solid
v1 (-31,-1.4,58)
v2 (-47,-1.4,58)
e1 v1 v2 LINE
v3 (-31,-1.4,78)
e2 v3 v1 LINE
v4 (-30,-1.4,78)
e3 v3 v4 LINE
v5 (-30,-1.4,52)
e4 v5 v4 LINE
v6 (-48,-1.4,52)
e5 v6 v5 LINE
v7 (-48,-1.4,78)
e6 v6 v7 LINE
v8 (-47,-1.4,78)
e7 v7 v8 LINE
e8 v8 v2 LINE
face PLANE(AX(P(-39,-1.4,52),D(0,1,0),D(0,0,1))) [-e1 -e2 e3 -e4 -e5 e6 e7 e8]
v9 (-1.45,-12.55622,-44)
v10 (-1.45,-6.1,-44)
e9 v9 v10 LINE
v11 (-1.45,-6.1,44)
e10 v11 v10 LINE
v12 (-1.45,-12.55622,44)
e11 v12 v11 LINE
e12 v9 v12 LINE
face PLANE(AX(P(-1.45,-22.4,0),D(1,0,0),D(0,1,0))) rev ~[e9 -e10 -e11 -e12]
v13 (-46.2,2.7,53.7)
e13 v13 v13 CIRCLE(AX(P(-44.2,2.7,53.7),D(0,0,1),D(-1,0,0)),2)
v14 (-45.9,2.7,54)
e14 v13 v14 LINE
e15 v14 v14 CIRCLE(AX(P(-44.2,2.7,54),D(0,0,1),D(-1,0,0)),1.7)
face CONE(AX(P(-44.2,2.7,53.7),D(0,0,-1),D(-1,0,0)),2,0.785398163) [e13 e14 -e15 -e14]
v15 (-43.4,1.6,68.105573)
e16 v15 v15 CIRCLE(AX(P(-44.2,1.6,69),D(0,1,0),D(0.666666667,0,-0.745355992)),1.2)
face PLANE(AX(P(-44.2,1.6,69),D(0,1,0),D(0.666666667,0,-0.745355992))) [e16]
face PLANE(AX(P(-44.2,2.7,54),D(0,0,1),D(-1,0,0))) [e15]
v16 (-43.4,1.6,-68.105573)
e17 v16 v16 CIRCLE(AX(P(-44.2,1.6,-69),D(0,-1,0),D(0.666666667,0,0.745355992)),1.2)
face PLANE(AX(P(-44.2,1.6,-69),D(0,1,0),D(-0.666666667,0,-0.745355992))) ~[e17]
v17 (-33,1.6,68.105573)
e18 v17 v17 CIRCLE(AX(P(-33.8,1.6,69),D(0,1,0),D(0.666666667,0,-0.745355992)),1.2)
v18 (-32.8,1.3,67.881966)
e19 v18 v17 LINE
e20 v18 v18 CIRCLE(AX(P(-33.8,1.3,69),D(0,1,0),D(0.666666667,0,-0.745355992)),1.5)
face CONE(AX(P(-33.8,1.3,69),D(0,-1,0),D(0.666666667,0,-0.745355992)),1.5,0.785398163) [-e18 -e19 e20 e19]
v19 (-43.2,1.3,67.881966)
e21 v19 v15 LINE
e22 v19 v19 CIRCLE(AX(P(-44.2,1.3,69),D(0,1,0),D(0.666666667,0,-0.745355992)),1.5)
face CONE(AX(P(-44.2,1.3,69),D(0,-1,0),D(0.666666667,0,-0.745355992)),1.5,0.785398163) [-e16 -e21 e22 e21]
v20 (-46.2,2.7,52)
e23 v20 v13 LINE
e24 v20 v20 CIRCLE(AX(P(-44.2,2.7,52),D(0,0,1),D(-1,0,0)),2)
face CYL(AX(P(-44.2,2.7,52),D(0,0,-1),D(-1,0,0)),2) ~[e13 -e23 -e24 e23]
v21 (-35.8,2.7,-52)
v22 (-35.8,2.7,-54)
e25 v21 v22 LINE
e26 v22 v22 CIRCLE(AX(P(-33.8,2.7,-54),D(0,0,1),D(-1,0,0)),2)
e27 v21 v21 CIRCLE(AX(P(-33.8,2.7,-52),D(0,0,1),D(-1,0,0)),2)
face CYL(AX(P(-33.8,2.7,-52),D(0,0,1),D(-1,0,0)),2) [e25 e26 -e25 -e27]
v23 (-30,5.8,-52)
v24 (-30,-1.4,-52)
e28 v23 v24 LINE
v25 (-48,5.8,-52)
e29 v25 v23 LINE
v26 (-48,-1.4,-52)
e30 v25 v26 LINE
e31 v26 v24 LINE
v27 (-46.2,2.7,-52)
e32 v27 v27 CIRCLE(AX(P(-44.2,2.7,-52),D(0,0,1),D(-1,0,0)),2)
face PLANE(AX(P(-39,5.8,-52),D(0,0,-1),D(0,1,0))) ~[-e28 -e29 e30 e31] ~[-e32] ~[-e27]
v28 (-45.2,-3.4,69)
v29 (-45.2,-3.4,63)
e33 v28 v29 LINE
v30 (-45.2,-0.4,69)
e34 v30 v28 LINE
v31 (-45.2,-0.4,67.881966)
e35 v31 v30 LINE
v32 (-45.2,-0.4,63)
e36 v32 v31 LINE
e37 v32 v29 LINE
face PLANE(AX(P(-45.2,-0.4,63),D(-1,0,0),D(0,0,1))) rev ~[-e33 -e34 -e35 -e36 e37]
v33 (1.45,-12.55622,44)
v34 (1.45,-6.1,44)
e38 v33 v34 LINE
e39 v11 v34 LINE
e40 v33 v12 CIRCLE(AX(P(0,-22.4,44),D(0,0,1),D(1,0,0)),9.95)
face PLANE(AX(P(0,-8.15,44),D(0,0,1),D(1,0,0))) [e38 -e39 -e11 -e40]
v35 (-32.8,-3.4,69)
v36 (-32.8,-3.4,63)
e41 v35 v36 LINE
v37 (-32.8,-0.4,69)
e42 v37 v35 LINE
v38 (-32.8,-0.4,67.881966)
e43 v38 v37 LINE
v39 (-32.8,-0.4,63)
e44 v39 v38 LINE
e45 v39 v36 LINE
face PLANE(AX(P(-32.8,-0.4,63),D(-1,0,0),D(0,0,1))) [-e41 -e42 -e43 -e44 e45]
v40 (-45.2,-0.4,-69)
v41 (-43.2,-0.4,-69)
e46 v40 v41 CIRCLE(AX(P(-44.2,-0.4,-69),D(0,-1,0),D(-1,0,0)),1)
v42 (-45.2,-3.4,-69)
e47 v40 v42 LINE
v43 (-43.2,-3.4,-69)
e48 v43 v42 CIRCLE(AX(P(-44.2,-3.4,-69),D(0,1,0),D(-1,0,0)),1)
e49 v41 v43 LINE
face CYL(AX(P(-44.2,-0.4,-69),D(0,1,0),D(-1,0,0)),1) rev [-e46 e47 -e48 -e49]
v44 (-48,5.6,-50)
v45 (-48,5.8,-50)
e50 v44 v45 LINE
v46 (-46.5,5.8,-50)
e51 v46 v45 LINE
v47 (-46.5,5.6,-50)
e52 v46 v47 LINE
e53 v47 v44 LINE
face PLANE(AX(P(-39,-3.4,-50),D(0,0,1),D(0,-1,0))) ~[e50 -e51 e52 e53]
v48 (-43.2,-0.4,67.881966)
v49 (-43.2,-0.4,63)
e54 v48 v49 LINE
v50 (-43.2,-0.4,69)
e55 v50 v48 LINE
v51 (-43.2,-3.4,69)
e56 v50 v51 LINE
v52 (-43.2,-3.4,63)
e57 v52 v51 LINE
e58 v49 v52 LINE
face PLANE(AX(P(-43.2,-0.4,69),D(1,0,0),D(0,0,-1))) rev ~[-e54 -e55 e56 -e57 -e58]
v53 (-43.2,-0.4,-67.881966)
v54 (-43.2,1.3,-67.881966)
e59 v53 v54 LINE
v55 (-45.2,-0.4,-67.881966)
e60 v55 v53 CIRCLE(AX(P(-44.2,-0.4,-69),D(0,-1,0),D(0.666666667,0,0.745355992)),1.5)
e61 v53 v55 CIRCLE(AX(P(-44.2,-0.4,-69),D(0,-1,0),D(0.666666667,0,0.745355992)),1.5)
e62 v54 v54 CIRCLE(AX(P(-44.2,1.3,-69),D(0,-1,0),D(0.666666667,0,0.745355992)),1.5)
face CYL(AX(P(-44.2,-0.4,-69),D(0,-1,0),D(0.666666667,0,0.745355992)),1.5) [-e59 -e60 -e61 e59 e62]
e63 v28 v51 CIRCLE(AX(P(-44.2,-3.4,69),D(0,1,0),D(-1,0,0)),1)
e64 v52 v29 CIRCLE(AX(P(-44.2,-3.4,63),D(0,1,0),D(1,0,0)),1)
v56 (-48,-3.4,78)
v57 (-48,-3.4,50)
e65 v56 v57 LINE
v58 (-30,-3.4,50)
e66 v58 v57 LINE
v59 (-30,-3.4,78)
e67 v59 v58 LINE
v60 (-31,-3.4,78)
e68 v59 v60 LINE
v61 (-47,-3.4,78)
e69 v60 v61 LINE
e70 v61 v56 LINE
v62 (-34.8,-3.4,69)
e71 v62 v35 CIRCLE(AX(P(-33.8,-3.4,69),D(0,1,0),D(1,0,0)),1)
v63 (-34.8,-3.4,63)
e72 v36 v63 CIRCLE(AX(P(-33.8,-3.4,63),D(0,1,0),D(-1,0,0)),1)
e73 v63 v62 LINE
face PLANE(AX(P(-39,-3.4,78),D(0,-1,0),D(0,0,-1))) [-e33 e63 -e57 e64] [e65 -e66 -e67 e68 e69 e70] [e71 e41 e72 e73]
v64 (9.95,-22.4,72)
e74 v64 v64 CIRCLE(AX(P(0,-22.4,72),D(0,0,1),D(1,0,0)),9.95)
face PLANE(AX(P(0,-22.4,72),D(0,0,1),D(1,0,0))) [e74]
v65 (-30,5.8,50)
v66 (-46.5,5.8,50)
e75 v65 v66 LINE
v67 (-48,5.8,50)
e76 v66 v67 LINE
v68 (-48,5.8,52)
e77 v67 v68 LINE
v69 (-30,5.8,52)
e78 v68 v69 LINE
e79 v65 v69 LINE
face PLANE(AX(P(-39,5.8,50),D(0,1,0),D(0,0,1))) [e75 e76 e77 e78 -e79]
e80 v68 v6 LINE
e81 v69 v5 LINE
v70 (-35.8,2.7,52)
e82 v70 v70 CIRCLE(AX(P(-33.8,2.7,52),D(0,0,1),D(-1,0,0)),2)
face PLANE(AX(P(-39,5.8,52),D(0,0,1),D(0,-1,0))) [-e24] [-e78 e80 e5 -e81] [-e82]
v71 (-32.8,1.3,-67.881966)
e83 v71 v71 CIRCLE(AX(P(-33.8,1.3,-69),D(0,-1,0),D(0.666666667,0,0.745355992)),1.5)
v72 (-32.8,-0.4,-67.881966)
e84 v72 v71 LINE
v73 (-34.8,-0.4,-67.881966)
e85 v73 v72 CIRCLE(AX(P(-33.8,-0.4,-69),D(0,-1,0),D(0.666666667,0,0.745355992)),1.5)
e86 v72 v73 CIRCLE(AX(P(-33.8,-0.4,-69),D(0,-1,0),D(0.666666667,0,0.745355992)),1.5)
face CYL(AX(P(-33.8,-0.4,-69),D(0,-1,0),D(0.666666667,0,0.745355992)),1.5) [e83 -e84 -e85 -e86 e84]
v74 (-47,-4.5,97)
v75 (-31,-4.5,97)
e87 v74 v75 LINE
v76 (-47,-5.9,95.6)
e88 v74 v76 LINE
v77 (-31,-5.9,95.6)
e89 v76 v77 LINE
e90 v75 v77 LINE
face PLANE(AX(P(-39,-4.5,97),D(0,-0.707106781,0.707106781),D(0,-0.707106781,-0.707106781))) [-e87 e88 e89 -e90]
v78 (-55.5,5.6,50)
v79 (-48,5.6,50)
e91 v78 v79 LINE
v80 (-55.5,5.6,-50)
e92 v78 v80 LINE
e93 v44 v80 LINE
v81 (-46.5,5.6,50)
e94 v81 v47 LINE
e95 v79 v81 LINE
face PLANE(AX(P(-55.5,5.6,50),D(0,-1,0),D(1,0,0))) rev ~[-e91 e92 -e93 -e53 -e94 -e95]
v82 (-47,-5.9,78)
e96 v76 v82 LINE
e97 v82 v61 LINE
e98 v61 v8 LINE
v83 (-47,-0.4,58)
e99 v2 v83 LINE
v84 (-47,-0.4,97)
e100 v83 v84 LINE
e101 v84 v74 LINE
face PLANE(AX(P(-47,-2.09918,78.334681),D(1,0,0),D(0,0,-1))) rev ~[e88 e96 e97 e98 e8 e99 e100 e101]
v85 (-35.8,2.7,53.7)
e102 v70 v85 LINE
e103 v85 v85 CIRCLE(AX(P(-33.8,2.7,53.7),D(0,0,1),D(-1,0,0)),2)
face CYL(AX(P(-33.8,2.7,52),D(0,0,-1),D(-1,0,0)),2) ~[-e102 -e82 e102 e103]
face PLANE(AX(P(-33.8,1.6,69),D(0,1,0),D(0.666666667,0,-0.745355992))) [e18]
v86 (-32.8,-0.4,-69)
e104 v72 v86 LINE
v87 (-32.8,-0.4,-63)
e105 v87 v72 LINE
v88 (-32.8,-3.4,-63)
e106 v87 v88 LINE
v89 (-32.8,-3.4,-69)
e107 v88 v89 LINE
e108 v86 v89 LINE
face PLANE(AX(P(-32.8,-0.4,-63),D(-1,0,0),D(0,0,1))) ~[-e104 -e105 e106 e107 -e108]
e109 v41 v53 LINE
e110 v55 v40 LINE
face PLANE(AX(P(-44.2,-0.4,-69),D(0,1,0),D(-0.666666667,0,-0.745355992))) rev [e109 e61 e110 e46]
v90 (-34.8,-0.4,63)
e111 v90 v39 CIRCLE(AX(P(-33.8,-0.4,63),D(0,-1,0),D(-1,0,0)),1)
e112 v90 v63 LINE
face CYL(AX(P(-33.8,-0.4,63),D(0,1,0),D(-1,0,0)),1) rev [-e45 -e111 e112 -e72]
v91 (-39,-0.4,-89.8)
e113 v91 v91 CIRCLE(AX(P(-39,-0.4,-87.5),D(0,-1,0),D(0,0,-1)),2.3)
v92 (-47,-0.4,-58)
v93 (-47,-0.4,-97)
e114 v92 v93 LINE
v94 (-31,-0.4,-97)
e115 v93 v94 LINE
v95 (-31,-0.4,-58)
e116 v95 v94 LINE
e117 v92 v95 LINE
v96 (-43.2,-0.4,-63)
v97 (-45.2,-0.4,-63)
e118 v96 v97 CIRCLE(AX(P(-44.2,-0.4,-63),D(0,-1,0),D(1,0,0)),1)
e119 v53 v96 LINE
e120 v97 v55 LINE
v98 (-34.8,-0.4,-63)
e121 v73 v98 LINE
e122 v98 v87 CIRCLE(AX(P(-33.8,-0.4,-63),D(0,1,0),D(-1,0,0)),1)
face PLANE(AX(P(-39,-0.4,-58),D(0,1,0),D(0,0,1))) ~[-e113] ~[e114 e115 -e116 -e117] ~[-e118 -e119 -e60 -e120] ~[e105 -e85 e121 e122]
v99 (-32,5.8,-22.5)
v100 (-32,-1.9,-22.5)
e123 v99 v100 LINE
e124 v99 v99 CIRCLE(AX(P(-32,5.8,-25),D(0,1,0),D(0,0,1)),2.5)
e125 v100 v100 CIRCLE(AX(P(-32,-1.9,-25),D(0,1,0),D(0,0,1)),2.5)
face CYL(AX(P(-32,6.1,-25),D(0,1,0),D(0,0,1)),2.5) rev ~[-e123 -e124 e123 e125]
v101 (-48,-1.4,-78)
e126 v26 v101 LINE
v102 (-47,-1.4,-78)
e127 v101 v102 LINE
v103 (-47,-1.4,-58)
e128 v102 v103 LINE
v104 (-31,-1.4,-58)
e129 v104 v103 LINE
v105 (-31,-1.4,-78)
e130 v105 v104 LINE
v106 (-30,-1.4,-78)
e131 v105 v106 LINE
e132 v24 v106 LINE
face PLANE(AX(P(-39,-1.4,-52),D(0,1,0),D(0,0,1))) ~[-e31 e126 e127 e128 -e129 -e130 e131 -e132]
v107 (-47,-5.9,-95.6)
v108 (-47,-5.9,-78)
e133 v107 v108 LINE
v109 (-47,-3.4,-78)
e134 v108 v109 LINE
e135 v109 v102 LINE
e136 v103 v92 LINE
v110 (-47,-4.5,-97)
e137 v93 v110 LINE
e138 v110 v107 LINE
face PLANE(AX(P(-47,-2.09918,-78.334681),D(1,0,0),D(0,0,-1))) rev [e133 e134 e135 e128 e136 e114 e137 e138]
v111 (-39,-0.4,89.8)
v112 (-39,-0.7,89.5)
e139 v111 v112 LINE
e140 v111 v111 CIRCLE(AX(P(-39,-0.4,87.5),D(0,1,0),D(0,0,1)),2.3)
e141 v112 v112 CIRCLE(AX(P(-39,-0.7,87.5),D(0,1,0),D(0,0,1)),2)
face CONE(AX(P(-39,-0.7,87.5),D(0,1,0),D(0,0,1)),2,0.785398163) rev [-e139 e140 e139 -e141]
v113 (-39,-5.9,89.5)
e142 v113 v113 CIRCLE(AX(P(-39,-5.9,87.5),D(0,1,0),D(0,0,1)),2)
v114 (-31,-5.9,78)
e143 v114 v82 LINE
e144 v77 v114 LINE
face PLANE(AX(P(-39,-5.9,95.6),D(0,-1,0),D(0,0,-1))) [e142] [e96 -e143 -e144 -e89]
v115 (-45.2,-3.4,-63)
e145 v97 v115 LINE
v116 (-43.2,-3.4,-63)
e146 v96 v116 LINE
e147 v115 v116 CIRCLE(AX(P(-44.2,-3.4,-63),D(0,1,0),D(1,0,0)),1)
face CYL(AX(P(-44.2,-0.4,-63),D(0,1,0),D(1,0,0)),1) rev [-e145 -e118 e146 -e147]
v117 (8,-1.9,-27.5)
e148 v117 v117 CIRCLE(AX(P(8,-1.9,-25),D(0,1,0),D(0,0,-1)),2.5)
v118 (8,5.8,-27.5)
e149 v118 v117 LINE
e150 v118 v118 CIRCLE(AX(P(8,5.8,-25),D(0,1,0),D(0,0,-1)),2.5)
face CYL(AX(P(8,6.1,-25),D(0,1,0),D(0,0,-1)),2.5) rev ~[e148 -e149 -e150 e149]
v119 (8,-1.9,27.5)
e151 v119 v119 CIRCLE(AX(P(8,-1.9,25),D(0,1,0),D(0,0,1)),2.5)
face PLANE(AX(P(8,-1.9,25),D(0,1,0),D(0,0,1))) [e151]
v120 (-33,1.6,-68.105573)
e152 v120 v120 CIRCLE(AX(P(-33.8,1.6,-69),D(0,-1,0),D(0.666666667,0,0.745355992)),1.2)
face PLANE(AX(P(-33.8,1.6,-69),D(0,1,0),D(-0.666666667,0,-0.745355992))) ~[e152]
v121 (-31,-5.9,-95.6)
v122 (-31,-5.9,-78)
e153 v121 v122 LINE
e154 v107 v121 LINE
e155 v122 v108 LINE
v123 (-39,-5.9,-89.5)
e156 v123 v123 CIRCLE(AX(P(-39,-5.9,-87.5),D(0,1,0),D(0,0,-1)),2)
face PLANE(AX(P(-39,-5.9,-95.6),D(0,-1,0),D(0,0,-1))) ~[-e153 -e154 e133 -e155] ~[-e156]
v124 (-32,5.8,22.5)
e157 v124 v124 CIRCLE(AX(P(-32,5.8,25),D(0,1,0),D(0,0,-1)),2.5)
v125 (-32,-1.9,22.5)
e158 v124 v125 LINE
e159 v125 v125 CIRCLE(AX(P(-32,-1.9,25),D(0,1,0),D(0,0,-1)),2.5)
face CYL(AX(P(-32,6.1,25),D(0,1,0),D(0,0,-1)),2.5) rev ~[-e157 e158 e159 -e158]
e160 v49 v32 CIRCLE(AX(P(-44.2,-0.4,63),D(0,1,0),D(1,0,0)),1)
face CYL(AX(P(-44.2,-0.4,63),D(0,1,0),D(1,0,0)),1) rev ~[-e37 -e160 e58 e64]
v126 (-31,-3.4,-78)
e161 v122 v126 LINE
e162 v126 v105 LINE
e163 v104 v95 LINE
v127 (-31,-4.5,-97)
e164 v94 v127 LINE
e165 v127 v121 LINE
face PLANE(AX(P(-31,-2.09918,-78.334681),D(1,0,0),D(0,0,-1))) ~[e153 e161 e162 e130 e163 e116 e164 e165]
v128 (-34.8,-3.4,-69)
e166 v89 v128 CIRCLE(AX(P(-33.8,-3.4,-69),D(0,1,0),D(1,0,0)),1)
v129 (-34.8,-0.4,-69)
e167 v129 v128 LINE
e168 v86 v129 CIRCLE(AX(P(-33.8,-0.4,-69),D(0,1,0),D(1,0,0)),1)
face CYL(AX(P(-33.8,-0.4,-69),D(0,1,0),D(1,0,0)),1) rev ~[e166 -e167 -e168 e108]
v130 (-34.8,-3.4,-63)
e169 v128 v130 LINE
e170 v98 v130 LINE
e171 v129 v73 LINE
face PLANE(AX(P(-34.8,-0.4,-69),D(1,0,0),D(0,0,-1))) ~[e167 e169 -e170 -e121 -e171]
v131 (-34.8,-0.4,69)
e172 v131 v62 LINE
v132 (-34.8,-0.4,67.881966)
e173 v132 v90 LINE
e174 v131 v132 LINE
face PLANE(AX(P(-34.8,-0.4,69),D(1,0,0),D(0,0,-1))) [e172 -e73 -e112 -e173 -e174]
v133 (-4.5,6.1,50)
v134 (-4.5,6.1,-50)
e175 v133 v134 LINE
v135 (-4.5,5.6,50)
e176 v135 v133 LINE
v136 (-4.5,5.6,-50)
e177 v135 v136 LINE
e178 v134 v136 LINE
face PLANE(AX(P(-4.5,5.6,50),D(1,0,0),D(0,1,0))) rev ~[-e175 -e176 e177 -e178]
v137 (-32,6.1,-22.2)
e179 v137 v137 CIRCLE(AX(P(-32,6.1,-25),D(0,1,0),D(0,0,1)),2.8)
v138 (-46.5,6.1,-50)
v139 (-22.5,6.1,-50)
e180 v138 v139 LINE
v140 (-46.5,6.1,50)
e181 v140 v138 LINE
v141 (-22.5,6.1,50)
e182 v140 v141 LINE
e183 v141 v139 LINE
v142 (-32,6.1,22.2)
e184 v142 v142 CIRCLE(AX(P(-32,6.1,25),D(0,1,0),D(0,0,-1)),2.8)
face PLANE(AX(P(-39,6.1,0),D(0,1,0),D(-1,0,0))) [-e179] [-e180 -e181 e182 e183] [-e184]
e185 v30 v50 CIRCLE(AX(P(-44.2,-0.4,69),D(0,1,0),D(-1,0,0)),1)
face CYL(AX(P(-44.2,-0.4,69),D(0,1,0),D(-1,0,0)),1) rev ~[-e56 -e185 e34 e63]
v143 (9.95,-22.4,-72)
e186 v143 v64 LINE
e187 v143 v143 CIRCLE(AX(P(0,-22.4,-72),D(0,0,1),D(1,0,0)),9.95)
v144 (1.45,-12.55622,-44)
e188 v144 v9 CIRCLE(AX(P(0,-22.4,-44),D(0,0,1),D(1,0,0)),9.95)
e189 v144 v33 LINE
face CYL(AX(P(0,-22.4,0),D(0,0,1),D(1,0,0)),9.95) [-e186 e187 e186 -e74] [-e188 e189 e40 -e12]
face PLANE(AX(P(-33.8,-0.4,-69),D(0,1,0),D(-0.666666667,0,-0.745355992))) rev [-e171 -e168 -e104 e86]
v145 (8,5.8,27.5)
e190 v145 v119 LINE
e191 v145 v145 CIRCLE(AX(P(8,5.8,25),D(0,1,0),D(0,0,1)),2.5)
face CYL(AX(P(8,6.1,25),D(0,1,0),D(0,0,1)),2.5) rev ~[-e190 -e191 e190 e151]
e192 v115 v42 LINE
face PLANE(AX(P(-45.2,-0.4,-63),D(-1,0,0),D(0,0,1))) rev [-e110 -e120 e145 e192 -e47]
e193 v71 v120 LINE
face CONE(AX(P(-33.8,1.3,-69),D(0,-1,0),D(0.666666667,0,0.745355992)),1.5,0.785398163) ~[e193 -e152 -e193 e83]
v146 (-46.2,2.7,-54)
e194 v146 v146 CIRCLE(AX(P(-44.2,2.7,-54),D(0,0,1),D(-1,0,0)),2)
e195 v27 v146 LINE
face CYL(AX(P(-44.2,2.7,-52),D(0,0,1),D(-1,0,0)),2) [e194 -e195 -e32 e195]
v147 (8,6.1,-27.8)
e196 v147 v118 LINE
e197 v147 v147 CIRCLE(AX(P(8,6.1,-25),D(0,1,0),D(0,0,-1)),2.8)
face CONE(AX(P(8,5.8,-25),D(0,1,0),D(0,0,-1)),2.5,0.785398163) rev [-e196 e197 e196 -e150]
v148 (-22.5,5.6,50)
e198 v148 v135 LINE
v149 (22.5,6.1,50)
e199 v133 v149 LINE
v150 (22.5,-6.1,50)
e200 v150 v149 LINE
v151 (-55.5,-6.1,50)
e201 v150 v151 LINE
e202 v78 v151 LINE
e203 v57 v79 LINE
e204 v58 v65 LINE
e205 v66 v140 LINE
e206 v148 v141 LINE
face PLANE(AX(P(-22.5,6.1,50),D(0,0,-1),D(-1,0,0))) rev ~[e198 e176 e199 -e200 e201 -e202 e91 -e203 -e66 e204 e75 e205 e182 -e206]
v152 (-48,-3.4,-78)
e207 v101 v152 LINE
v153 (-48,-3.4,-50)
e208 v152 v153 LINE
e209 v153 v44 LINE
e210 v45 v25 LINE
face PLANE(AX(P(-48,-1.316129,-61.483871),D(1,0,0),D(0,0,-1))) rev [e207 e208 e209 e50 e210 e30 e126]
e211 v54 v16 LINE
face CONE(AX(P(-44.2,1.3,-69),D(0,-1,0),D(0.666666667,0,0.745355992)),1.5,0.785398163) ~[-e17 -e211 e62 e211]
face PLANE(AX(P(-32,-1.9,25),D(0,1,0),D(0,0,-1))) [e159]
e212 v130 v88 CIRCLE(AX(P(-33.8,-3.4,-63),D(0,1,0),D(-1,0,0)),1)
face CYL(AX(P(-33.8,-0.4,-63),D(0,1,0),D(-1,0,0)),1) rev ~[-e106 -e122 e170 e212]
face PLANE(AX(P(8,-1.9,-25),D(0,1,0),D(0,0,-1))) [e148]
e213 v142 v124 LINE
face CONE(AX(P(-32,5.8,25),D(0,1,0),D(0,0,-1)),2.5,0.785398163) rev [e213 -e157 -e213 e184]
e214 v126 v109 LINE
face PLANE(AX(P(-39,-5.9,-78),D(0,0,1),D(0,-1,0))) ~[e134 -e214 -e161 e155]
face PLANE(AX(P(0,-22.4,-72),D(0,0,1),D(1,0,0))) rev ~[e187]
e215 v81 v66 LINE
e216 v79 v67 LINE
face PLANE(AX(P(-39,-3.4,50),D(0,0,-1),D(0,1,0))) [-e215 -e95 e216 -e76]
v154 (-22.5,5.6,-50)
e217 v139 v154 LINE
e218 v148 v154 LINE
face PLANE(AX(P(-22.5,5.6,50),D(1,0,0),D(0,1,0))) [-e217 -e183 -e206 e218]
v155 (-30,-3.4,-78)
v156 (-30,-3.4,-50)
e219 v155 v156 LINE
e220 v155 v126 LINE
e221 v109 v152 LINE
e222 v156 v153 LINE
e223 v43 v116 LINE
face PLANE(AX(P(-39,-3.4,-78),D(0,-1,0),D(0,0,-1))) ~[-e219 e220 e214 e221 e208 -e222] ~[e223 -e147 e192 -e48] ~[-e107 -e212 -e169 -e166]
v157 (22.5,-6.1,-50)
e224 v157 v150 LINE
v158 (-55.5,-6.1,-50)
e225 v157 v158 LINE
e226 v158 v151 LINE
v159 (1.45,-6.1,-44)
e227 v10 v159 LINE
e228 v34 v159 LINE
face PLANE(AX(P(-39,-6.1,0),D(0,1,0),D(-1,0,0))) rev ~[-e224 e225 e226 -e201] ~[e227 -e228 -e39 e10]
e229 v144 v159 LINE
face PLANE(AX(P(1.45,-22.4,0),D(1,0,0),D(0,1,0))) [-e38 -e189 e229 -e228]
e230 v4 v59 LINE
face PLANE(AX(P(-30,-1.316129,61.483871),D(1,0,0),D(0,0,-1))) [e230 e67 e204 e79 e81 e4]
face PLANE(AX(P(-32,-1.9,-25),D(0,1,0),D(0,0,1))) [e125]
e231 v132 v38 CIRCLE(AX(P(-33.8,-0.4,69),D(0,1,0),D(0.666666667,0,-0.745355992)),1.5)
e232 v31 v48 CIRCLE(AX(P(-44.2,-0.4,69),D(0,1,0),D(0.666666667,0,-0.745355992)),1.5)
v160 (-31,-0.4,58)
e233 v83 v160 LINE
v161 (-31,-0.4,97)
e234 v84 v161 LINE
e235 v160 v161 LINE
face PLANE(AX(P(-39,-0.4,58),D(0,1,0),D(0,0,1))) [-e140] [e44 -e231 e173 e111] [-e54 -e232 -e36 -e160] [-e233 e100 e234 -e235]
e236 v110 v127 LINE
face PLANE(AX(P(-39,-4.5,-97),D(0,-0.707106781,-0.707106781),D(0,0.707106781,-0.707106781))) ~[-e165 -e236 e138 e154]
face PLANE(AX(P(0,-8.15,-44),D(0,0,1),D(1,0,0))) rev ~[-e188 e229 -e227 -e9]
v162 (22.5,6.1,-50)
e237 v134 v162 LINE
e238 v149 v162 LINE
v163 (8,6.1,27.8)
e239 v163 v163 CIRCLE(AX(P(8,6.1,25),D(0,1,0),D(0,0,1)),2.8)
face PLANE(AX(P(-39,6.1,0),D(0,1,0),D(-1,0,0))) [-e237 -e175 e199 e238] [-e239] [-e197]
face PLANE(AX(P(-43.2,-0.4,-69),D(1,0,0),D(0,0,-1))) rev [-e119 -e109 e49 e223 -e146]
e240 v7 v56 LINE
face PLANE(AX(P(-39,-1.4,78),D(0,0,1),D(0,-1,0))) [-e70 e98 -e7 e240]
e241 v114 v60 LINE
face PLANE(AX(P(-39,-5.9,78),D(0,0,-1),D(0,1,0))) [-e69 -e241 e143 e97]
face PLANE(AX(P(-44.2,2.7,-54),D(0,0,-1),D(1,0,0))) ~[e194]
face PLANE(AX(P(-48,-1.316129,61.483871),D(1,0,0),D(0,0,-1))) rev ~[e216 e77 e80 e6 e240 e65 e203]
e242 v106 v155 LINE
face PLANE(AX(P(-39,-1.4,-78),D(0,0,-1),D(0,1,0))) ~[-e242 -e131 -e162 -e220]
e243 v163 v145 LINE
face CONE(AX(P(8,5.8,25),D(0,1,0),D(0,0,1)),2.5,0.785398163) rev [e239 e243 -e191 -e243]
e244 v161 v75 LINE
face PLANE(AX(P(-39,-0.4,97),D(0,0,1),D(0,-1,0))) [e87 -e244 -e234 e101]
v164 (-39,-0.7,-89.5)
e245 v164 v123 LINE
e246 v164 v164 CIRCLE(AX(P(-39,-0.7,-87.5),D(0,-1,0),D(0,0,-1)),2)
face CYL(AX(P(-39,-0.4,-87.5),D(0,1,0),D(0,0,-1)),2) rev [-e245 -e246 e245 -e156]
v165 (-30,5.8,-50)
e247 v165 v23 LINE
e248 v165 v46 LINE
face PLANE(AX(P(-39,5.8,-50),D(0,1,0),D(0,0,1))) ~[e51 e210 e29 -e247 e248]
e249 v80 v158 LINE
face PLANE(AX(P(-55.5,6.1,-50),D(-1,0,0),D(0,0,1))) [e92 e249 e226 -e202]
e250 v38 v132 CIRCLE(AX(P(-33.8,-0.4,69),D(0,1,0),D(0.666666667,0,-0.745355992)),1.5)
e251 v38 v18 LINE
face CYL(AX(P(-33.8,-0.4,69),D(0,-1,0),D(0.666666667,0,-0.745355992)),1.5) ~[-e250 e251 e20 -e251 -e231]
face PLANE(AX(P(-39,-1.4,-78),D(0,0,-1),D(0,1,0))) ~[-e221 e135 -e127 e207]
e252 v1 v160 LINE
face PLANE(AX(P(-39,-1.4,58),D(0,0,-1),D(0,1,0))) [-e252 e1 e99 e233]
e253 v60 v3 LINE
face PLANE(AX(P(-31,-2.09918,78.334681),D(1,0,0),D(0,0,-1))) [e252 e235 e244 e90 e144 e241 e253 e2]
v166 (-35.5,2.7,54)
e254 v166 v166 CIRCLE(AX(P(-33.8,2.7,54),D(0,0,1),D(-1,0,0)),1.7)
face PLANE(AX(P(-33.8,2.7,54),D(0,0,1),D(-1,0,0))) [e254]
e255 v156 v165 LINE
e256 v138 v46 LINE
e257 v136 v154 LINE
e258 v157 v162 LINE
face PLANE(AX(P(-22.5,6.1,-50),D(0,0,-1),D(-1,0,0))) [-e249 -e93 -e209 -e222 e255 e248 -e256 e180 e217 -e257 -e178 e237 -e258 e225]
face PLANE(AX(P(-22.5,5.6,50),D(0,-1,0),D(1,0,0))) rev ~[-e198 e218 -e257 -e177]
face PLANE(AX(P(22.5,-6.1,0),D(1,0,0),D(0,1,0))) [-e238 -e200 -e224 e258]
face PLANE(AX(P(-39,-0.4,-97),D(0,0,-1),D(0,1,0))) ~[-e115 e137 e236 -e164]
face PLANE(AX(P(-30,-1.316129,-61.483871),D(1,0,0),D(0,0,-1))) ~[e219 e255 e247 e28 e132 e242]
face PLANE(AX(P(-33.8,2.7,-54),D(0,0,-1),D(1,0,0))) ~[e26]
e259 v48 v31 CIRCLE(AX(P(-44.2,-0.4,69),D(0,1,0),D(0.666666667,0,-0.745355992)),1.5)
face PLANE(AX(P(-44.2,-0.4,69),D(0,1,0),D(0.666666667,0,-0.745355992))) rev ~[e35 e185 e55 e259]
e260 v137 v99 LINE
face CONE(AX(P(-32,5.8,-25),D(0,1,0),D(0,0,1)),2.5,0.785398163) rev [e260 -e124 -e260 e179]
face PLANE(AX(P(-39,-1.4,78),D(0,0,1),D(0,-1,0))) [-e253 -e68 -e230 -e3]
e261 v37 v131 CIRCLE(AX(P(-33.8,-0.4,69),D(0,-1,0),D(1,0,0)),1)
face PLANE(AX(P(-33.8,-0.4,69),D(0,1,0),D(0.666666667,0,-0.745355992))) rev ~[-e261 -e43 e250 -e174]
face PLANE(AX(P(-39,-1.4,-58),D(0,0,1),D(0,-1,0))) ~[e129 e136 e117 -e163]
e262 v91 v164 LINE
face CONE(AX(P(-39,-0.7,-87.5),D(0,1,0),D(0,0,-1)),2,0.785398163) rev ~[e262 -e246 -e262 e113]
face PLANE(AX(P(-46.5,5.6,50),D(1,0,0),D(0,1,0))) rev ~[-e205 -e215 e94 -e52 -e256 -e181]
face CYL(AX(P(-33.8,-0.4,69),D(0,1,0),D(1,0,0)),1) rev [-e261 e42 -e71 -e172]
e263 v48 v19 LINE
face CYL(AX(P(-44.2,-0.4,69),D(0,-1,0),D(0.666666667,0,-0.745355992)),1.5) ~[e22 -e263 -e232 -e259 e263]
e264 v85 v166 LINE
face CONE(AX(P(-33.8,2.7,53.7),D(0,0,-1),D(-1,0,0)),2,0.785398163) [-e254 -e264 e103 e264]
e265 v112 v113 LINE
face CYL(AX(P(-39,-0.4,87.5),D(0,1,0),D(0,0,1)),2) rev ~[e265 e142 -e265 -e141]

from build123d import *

# Parameters (mm, degrees)
SKETCH1_W                 = 45
SKETCH1_H                 = 12.2
BASE_EXTRUDE_DEPTH        = 50
SKETCH16_W                = 33
SKETCH16_H                = 100
TABLE_EXTENSION_DEPTH     = 12.2
SKETCH3_R                 = 2.5
MOUNTHOLES_DEPTH          = 8
SKETCH14_W                = 2.9
SKETCH14_H                = 28.5
CONNECTION_DEPTH          = 44
SKETCH15_R                = 9.95
PISTON_DEPTH              = 72
SKETCH17_W                = 9
SKETCH17_H                = 0.5
SKETCH17_W_2              = 18
GROOVES_DEPTH             = 138.879557948
ENDLOCKPLATE1_DEPTH       = 9
ENDLOCKPLATE2_DEPTH       = 8
SKETCH20_R                = 2
ENDLOCKHOLES_DEPTH        = 117.232751409
SKETCH21_R                = 1.5
ENDLOCKADJUSTSCREWS_DEPTH = 2
SKETCH23_R                = 2
ENDLOCKMOUNTSCREWS_DEPTH  = 2
CHAMFER1_SIZE             = 0.3


with BuildPart() as part:
    # Sketch1 → Base-Extrude (new, symmetric)
    with BuildSketch(Plane.XY):
        Rectangle(SKETCH1_W, SKETCH1_H)
    extrude(amount=BASE_EXTRUDE_DEPTH, both=True)

    # Sketch16 → Table_Extension (add)
    with BuildSketch(Plane(origin=(0, 6.1, 0), x_dir=(-1, 0, 0), z_dir=(0, 1, 0))):
        with Locations((39, 0)):
            Rectangle(SKETCH16_W, SKETCH16_H)
    extrude(amount=-TABLE_EXTENSION_DEPTH)

    # Sketch3 → MountHoles (cut)
    with BuildSketch(Plane(origin=(0, 6.1, 0), x_dir=(-1, 0, 0), z_dir=(0, 1, 0))):
        with Locations(Location((32, -25, 0), (0, 0, 90))):
            Circle(SKETCH3_R)
        with Locations(Location((-8, -25, 0), (0, 0, 270))):
            Circle(SKETCH3_R)
        with Locations(Location((32, 25, 0), (0, 0, 270))):
            Circle(SKETCH3_R)
        with Locations(Location((-8, 25, 0), (0, 0, 90))):
            Circle(SKETCH3_R)
    extrude(amount=-MOUNTHOLES_DEPTH, mode=Mode.SUBTRACT)

    # Sketch14 → Connection (add, symmetric)
    with BuildSketch(Plane.XY):
        with Locations((0, -8.15)):
            Rectangle(SKETCH14_W, SKETCH14_H)
    extrude(amount=CONNECTION_DEPTH, both=True)

    # Sketch15 → Piston (add, symmetric)
    with BuildSketch(Plane.XY):
        with Locations((0, -22.4)):
            Circle(SKETCH15_R)
    extrude(amount=PISTON_DEPTH, both=True)

    # Sketch17 → Grooves (cut, through all)
    with BuildSketch(Plane.XY.offset(50)):
        with Locations((-51, 5.85)):
            Rectangle(SKETCH17_W, SKETCH17_H)
        with Locations((-13.5, 5.85)):
            Rectangle(SKETCH17_W_2, SKETCH17_H)
    extrude(amount=-GROOVES_DEPTH, mode=Mode.SUBTRACT)

    # Sketch18 → EndLockPlate1 (add, symmetric)
    with BuildSketch(Plane(origin=(-39, 0, 0), x_dir=(0, 0, -1), z_dir=(1, 0, 0))):
        Polygon((-50, 5.8), (-52, 5.8), (-52, -1.4), (-78, -1.4), (-78, -3.4), (-50, -3.4), align=None)
    endlockplate1 = extrude(amount=ENDLOCKPLATE1_DEPTH, both=True)

    # Sketch19 → EndLockPlate2 (add, symmetric)
    with BuildSketch(Plane(origin=(-39, 0, 0), x_dir=(0, 0, -1), z_dir=(1, 0, 0))):
        Polygon((-58, -1.4), (-58, -0.4), (-97, -0.4), (-97, -4.5), (-95.6, -5.9), (-78, -5.9), (-78, -1.4), align=None)
    endlockplate2 = extrude(amount=ENDLOCKPLATE2_DEPTH, both=True)

    # Sketch20 → EndLockHoles (cut, through all)
    with BuildSketch(Plane(origin=(0, -0.4, 0), x_dir=(-1, 0, 0), z_dir=(0, 1, 0))):
        with Locations(Location((39, 87.5, 0), (0, 0, 90))):
            Circle(SKETCH20_R)
        with BuildLine():
            Line((32.8, 63), (32.8, 69))
            ThreePointArc((32.8, 69), (33.8, 70), (34.8, 69))
            Line((34.8, 69), (34.8, 63))
            ThreePointArc((34.8, 63), (33.8, 62), (32.8, 63))
        make_face()
        with BuildLine():
            Line((43.2, 69), (43.2, 63))
            ThreePointArc((43.2, 63), (44.2, 62), (45.2, 63))
            Line((45.2, 63), (45.2, 69))
            ThreePointArc((45.2, 69), (44.2, 70), (43.2, 69))
        make_face()
    endlockholes = extrude(amount=-ENDLOCKHOLES_DEPTH, mode=Mode.SUBTRACT)

    # Sketch21 → EndLockAdjustScrews (add)
    with BuildSketch(Plane(origin=(0, -0.4, 0), x_dir=(-1, 0, 0), z_dir=(0, 1, 0))):
        with Locations(Location((44.2, 69, 0), (0, 0, 228.189685104))):
            Circle(SKETCH21_R)
        with Locations(Location((33.8, 69, 0), (0, 0, 228.189685104))):
            Circle(SKETCH21_R)
    endlockadjustscrews = extrude(amount=ENDLOCKADJUSTSCREWS_DEPTH)

    # Sketch23 → EndLockMountScrews (add)
    with BuildSketch(Plane.XY.offset(52)):
        with Locations(Location((-44.2, 2.7, 0), (0, 0, 180))):
            Circle(SKETCH23_R)
        with Locations(Location((-33.8, 2.7, 0), (0, 0, 180))):
            Circle(SKETCH23_R)
    endlockmountscrews = extrude(amount=ENDLOCKMOUNTSCREWS_DEPTH)

    # EndLockMirror: EndLockPlate1, EndLockPlate2, EndLockHoles, EndLockAdjustScrews, EndLockMountScrews across plane
    add(endlockplate1.mirror(Plane.XY))
    add(endlockplate2.mirror(Plane.XY))
    add(endlockholes.mirror(Plane.XY), mode=Mode.SUBTRACT)
    add(endlockadjustscrews.mirror(Plane.XY))
    add(endlockmountscrews.mirror(Plane.XY))

    # Chamfer1
    chamfer1_edges = [part.edges().sort_by_distance(p)[0] for p in [
        (-39, -0.4, 85.5),
        (-45.2, 1.6, 70.118033989),
        (-34.8, 1.6, 70.118033989),
        (-42.2, 2.7, 54),
        (-31.8, 2.7, 54),
        (-39, -0.4, -85.5),
        (-32, 6.1, -27.5),
        (-45.2, 1.6, -70.118033989),
        (-34.8, 1.6, -70.118033989),
        (8, 6.1, -22.5),
        (-32, 6.1, 27.5),
        (8, 6.1, 22.5),
    ]]
    chamfer(chamfer1_edges, length=CHAMFER1_SIZE)


solid = part.part
